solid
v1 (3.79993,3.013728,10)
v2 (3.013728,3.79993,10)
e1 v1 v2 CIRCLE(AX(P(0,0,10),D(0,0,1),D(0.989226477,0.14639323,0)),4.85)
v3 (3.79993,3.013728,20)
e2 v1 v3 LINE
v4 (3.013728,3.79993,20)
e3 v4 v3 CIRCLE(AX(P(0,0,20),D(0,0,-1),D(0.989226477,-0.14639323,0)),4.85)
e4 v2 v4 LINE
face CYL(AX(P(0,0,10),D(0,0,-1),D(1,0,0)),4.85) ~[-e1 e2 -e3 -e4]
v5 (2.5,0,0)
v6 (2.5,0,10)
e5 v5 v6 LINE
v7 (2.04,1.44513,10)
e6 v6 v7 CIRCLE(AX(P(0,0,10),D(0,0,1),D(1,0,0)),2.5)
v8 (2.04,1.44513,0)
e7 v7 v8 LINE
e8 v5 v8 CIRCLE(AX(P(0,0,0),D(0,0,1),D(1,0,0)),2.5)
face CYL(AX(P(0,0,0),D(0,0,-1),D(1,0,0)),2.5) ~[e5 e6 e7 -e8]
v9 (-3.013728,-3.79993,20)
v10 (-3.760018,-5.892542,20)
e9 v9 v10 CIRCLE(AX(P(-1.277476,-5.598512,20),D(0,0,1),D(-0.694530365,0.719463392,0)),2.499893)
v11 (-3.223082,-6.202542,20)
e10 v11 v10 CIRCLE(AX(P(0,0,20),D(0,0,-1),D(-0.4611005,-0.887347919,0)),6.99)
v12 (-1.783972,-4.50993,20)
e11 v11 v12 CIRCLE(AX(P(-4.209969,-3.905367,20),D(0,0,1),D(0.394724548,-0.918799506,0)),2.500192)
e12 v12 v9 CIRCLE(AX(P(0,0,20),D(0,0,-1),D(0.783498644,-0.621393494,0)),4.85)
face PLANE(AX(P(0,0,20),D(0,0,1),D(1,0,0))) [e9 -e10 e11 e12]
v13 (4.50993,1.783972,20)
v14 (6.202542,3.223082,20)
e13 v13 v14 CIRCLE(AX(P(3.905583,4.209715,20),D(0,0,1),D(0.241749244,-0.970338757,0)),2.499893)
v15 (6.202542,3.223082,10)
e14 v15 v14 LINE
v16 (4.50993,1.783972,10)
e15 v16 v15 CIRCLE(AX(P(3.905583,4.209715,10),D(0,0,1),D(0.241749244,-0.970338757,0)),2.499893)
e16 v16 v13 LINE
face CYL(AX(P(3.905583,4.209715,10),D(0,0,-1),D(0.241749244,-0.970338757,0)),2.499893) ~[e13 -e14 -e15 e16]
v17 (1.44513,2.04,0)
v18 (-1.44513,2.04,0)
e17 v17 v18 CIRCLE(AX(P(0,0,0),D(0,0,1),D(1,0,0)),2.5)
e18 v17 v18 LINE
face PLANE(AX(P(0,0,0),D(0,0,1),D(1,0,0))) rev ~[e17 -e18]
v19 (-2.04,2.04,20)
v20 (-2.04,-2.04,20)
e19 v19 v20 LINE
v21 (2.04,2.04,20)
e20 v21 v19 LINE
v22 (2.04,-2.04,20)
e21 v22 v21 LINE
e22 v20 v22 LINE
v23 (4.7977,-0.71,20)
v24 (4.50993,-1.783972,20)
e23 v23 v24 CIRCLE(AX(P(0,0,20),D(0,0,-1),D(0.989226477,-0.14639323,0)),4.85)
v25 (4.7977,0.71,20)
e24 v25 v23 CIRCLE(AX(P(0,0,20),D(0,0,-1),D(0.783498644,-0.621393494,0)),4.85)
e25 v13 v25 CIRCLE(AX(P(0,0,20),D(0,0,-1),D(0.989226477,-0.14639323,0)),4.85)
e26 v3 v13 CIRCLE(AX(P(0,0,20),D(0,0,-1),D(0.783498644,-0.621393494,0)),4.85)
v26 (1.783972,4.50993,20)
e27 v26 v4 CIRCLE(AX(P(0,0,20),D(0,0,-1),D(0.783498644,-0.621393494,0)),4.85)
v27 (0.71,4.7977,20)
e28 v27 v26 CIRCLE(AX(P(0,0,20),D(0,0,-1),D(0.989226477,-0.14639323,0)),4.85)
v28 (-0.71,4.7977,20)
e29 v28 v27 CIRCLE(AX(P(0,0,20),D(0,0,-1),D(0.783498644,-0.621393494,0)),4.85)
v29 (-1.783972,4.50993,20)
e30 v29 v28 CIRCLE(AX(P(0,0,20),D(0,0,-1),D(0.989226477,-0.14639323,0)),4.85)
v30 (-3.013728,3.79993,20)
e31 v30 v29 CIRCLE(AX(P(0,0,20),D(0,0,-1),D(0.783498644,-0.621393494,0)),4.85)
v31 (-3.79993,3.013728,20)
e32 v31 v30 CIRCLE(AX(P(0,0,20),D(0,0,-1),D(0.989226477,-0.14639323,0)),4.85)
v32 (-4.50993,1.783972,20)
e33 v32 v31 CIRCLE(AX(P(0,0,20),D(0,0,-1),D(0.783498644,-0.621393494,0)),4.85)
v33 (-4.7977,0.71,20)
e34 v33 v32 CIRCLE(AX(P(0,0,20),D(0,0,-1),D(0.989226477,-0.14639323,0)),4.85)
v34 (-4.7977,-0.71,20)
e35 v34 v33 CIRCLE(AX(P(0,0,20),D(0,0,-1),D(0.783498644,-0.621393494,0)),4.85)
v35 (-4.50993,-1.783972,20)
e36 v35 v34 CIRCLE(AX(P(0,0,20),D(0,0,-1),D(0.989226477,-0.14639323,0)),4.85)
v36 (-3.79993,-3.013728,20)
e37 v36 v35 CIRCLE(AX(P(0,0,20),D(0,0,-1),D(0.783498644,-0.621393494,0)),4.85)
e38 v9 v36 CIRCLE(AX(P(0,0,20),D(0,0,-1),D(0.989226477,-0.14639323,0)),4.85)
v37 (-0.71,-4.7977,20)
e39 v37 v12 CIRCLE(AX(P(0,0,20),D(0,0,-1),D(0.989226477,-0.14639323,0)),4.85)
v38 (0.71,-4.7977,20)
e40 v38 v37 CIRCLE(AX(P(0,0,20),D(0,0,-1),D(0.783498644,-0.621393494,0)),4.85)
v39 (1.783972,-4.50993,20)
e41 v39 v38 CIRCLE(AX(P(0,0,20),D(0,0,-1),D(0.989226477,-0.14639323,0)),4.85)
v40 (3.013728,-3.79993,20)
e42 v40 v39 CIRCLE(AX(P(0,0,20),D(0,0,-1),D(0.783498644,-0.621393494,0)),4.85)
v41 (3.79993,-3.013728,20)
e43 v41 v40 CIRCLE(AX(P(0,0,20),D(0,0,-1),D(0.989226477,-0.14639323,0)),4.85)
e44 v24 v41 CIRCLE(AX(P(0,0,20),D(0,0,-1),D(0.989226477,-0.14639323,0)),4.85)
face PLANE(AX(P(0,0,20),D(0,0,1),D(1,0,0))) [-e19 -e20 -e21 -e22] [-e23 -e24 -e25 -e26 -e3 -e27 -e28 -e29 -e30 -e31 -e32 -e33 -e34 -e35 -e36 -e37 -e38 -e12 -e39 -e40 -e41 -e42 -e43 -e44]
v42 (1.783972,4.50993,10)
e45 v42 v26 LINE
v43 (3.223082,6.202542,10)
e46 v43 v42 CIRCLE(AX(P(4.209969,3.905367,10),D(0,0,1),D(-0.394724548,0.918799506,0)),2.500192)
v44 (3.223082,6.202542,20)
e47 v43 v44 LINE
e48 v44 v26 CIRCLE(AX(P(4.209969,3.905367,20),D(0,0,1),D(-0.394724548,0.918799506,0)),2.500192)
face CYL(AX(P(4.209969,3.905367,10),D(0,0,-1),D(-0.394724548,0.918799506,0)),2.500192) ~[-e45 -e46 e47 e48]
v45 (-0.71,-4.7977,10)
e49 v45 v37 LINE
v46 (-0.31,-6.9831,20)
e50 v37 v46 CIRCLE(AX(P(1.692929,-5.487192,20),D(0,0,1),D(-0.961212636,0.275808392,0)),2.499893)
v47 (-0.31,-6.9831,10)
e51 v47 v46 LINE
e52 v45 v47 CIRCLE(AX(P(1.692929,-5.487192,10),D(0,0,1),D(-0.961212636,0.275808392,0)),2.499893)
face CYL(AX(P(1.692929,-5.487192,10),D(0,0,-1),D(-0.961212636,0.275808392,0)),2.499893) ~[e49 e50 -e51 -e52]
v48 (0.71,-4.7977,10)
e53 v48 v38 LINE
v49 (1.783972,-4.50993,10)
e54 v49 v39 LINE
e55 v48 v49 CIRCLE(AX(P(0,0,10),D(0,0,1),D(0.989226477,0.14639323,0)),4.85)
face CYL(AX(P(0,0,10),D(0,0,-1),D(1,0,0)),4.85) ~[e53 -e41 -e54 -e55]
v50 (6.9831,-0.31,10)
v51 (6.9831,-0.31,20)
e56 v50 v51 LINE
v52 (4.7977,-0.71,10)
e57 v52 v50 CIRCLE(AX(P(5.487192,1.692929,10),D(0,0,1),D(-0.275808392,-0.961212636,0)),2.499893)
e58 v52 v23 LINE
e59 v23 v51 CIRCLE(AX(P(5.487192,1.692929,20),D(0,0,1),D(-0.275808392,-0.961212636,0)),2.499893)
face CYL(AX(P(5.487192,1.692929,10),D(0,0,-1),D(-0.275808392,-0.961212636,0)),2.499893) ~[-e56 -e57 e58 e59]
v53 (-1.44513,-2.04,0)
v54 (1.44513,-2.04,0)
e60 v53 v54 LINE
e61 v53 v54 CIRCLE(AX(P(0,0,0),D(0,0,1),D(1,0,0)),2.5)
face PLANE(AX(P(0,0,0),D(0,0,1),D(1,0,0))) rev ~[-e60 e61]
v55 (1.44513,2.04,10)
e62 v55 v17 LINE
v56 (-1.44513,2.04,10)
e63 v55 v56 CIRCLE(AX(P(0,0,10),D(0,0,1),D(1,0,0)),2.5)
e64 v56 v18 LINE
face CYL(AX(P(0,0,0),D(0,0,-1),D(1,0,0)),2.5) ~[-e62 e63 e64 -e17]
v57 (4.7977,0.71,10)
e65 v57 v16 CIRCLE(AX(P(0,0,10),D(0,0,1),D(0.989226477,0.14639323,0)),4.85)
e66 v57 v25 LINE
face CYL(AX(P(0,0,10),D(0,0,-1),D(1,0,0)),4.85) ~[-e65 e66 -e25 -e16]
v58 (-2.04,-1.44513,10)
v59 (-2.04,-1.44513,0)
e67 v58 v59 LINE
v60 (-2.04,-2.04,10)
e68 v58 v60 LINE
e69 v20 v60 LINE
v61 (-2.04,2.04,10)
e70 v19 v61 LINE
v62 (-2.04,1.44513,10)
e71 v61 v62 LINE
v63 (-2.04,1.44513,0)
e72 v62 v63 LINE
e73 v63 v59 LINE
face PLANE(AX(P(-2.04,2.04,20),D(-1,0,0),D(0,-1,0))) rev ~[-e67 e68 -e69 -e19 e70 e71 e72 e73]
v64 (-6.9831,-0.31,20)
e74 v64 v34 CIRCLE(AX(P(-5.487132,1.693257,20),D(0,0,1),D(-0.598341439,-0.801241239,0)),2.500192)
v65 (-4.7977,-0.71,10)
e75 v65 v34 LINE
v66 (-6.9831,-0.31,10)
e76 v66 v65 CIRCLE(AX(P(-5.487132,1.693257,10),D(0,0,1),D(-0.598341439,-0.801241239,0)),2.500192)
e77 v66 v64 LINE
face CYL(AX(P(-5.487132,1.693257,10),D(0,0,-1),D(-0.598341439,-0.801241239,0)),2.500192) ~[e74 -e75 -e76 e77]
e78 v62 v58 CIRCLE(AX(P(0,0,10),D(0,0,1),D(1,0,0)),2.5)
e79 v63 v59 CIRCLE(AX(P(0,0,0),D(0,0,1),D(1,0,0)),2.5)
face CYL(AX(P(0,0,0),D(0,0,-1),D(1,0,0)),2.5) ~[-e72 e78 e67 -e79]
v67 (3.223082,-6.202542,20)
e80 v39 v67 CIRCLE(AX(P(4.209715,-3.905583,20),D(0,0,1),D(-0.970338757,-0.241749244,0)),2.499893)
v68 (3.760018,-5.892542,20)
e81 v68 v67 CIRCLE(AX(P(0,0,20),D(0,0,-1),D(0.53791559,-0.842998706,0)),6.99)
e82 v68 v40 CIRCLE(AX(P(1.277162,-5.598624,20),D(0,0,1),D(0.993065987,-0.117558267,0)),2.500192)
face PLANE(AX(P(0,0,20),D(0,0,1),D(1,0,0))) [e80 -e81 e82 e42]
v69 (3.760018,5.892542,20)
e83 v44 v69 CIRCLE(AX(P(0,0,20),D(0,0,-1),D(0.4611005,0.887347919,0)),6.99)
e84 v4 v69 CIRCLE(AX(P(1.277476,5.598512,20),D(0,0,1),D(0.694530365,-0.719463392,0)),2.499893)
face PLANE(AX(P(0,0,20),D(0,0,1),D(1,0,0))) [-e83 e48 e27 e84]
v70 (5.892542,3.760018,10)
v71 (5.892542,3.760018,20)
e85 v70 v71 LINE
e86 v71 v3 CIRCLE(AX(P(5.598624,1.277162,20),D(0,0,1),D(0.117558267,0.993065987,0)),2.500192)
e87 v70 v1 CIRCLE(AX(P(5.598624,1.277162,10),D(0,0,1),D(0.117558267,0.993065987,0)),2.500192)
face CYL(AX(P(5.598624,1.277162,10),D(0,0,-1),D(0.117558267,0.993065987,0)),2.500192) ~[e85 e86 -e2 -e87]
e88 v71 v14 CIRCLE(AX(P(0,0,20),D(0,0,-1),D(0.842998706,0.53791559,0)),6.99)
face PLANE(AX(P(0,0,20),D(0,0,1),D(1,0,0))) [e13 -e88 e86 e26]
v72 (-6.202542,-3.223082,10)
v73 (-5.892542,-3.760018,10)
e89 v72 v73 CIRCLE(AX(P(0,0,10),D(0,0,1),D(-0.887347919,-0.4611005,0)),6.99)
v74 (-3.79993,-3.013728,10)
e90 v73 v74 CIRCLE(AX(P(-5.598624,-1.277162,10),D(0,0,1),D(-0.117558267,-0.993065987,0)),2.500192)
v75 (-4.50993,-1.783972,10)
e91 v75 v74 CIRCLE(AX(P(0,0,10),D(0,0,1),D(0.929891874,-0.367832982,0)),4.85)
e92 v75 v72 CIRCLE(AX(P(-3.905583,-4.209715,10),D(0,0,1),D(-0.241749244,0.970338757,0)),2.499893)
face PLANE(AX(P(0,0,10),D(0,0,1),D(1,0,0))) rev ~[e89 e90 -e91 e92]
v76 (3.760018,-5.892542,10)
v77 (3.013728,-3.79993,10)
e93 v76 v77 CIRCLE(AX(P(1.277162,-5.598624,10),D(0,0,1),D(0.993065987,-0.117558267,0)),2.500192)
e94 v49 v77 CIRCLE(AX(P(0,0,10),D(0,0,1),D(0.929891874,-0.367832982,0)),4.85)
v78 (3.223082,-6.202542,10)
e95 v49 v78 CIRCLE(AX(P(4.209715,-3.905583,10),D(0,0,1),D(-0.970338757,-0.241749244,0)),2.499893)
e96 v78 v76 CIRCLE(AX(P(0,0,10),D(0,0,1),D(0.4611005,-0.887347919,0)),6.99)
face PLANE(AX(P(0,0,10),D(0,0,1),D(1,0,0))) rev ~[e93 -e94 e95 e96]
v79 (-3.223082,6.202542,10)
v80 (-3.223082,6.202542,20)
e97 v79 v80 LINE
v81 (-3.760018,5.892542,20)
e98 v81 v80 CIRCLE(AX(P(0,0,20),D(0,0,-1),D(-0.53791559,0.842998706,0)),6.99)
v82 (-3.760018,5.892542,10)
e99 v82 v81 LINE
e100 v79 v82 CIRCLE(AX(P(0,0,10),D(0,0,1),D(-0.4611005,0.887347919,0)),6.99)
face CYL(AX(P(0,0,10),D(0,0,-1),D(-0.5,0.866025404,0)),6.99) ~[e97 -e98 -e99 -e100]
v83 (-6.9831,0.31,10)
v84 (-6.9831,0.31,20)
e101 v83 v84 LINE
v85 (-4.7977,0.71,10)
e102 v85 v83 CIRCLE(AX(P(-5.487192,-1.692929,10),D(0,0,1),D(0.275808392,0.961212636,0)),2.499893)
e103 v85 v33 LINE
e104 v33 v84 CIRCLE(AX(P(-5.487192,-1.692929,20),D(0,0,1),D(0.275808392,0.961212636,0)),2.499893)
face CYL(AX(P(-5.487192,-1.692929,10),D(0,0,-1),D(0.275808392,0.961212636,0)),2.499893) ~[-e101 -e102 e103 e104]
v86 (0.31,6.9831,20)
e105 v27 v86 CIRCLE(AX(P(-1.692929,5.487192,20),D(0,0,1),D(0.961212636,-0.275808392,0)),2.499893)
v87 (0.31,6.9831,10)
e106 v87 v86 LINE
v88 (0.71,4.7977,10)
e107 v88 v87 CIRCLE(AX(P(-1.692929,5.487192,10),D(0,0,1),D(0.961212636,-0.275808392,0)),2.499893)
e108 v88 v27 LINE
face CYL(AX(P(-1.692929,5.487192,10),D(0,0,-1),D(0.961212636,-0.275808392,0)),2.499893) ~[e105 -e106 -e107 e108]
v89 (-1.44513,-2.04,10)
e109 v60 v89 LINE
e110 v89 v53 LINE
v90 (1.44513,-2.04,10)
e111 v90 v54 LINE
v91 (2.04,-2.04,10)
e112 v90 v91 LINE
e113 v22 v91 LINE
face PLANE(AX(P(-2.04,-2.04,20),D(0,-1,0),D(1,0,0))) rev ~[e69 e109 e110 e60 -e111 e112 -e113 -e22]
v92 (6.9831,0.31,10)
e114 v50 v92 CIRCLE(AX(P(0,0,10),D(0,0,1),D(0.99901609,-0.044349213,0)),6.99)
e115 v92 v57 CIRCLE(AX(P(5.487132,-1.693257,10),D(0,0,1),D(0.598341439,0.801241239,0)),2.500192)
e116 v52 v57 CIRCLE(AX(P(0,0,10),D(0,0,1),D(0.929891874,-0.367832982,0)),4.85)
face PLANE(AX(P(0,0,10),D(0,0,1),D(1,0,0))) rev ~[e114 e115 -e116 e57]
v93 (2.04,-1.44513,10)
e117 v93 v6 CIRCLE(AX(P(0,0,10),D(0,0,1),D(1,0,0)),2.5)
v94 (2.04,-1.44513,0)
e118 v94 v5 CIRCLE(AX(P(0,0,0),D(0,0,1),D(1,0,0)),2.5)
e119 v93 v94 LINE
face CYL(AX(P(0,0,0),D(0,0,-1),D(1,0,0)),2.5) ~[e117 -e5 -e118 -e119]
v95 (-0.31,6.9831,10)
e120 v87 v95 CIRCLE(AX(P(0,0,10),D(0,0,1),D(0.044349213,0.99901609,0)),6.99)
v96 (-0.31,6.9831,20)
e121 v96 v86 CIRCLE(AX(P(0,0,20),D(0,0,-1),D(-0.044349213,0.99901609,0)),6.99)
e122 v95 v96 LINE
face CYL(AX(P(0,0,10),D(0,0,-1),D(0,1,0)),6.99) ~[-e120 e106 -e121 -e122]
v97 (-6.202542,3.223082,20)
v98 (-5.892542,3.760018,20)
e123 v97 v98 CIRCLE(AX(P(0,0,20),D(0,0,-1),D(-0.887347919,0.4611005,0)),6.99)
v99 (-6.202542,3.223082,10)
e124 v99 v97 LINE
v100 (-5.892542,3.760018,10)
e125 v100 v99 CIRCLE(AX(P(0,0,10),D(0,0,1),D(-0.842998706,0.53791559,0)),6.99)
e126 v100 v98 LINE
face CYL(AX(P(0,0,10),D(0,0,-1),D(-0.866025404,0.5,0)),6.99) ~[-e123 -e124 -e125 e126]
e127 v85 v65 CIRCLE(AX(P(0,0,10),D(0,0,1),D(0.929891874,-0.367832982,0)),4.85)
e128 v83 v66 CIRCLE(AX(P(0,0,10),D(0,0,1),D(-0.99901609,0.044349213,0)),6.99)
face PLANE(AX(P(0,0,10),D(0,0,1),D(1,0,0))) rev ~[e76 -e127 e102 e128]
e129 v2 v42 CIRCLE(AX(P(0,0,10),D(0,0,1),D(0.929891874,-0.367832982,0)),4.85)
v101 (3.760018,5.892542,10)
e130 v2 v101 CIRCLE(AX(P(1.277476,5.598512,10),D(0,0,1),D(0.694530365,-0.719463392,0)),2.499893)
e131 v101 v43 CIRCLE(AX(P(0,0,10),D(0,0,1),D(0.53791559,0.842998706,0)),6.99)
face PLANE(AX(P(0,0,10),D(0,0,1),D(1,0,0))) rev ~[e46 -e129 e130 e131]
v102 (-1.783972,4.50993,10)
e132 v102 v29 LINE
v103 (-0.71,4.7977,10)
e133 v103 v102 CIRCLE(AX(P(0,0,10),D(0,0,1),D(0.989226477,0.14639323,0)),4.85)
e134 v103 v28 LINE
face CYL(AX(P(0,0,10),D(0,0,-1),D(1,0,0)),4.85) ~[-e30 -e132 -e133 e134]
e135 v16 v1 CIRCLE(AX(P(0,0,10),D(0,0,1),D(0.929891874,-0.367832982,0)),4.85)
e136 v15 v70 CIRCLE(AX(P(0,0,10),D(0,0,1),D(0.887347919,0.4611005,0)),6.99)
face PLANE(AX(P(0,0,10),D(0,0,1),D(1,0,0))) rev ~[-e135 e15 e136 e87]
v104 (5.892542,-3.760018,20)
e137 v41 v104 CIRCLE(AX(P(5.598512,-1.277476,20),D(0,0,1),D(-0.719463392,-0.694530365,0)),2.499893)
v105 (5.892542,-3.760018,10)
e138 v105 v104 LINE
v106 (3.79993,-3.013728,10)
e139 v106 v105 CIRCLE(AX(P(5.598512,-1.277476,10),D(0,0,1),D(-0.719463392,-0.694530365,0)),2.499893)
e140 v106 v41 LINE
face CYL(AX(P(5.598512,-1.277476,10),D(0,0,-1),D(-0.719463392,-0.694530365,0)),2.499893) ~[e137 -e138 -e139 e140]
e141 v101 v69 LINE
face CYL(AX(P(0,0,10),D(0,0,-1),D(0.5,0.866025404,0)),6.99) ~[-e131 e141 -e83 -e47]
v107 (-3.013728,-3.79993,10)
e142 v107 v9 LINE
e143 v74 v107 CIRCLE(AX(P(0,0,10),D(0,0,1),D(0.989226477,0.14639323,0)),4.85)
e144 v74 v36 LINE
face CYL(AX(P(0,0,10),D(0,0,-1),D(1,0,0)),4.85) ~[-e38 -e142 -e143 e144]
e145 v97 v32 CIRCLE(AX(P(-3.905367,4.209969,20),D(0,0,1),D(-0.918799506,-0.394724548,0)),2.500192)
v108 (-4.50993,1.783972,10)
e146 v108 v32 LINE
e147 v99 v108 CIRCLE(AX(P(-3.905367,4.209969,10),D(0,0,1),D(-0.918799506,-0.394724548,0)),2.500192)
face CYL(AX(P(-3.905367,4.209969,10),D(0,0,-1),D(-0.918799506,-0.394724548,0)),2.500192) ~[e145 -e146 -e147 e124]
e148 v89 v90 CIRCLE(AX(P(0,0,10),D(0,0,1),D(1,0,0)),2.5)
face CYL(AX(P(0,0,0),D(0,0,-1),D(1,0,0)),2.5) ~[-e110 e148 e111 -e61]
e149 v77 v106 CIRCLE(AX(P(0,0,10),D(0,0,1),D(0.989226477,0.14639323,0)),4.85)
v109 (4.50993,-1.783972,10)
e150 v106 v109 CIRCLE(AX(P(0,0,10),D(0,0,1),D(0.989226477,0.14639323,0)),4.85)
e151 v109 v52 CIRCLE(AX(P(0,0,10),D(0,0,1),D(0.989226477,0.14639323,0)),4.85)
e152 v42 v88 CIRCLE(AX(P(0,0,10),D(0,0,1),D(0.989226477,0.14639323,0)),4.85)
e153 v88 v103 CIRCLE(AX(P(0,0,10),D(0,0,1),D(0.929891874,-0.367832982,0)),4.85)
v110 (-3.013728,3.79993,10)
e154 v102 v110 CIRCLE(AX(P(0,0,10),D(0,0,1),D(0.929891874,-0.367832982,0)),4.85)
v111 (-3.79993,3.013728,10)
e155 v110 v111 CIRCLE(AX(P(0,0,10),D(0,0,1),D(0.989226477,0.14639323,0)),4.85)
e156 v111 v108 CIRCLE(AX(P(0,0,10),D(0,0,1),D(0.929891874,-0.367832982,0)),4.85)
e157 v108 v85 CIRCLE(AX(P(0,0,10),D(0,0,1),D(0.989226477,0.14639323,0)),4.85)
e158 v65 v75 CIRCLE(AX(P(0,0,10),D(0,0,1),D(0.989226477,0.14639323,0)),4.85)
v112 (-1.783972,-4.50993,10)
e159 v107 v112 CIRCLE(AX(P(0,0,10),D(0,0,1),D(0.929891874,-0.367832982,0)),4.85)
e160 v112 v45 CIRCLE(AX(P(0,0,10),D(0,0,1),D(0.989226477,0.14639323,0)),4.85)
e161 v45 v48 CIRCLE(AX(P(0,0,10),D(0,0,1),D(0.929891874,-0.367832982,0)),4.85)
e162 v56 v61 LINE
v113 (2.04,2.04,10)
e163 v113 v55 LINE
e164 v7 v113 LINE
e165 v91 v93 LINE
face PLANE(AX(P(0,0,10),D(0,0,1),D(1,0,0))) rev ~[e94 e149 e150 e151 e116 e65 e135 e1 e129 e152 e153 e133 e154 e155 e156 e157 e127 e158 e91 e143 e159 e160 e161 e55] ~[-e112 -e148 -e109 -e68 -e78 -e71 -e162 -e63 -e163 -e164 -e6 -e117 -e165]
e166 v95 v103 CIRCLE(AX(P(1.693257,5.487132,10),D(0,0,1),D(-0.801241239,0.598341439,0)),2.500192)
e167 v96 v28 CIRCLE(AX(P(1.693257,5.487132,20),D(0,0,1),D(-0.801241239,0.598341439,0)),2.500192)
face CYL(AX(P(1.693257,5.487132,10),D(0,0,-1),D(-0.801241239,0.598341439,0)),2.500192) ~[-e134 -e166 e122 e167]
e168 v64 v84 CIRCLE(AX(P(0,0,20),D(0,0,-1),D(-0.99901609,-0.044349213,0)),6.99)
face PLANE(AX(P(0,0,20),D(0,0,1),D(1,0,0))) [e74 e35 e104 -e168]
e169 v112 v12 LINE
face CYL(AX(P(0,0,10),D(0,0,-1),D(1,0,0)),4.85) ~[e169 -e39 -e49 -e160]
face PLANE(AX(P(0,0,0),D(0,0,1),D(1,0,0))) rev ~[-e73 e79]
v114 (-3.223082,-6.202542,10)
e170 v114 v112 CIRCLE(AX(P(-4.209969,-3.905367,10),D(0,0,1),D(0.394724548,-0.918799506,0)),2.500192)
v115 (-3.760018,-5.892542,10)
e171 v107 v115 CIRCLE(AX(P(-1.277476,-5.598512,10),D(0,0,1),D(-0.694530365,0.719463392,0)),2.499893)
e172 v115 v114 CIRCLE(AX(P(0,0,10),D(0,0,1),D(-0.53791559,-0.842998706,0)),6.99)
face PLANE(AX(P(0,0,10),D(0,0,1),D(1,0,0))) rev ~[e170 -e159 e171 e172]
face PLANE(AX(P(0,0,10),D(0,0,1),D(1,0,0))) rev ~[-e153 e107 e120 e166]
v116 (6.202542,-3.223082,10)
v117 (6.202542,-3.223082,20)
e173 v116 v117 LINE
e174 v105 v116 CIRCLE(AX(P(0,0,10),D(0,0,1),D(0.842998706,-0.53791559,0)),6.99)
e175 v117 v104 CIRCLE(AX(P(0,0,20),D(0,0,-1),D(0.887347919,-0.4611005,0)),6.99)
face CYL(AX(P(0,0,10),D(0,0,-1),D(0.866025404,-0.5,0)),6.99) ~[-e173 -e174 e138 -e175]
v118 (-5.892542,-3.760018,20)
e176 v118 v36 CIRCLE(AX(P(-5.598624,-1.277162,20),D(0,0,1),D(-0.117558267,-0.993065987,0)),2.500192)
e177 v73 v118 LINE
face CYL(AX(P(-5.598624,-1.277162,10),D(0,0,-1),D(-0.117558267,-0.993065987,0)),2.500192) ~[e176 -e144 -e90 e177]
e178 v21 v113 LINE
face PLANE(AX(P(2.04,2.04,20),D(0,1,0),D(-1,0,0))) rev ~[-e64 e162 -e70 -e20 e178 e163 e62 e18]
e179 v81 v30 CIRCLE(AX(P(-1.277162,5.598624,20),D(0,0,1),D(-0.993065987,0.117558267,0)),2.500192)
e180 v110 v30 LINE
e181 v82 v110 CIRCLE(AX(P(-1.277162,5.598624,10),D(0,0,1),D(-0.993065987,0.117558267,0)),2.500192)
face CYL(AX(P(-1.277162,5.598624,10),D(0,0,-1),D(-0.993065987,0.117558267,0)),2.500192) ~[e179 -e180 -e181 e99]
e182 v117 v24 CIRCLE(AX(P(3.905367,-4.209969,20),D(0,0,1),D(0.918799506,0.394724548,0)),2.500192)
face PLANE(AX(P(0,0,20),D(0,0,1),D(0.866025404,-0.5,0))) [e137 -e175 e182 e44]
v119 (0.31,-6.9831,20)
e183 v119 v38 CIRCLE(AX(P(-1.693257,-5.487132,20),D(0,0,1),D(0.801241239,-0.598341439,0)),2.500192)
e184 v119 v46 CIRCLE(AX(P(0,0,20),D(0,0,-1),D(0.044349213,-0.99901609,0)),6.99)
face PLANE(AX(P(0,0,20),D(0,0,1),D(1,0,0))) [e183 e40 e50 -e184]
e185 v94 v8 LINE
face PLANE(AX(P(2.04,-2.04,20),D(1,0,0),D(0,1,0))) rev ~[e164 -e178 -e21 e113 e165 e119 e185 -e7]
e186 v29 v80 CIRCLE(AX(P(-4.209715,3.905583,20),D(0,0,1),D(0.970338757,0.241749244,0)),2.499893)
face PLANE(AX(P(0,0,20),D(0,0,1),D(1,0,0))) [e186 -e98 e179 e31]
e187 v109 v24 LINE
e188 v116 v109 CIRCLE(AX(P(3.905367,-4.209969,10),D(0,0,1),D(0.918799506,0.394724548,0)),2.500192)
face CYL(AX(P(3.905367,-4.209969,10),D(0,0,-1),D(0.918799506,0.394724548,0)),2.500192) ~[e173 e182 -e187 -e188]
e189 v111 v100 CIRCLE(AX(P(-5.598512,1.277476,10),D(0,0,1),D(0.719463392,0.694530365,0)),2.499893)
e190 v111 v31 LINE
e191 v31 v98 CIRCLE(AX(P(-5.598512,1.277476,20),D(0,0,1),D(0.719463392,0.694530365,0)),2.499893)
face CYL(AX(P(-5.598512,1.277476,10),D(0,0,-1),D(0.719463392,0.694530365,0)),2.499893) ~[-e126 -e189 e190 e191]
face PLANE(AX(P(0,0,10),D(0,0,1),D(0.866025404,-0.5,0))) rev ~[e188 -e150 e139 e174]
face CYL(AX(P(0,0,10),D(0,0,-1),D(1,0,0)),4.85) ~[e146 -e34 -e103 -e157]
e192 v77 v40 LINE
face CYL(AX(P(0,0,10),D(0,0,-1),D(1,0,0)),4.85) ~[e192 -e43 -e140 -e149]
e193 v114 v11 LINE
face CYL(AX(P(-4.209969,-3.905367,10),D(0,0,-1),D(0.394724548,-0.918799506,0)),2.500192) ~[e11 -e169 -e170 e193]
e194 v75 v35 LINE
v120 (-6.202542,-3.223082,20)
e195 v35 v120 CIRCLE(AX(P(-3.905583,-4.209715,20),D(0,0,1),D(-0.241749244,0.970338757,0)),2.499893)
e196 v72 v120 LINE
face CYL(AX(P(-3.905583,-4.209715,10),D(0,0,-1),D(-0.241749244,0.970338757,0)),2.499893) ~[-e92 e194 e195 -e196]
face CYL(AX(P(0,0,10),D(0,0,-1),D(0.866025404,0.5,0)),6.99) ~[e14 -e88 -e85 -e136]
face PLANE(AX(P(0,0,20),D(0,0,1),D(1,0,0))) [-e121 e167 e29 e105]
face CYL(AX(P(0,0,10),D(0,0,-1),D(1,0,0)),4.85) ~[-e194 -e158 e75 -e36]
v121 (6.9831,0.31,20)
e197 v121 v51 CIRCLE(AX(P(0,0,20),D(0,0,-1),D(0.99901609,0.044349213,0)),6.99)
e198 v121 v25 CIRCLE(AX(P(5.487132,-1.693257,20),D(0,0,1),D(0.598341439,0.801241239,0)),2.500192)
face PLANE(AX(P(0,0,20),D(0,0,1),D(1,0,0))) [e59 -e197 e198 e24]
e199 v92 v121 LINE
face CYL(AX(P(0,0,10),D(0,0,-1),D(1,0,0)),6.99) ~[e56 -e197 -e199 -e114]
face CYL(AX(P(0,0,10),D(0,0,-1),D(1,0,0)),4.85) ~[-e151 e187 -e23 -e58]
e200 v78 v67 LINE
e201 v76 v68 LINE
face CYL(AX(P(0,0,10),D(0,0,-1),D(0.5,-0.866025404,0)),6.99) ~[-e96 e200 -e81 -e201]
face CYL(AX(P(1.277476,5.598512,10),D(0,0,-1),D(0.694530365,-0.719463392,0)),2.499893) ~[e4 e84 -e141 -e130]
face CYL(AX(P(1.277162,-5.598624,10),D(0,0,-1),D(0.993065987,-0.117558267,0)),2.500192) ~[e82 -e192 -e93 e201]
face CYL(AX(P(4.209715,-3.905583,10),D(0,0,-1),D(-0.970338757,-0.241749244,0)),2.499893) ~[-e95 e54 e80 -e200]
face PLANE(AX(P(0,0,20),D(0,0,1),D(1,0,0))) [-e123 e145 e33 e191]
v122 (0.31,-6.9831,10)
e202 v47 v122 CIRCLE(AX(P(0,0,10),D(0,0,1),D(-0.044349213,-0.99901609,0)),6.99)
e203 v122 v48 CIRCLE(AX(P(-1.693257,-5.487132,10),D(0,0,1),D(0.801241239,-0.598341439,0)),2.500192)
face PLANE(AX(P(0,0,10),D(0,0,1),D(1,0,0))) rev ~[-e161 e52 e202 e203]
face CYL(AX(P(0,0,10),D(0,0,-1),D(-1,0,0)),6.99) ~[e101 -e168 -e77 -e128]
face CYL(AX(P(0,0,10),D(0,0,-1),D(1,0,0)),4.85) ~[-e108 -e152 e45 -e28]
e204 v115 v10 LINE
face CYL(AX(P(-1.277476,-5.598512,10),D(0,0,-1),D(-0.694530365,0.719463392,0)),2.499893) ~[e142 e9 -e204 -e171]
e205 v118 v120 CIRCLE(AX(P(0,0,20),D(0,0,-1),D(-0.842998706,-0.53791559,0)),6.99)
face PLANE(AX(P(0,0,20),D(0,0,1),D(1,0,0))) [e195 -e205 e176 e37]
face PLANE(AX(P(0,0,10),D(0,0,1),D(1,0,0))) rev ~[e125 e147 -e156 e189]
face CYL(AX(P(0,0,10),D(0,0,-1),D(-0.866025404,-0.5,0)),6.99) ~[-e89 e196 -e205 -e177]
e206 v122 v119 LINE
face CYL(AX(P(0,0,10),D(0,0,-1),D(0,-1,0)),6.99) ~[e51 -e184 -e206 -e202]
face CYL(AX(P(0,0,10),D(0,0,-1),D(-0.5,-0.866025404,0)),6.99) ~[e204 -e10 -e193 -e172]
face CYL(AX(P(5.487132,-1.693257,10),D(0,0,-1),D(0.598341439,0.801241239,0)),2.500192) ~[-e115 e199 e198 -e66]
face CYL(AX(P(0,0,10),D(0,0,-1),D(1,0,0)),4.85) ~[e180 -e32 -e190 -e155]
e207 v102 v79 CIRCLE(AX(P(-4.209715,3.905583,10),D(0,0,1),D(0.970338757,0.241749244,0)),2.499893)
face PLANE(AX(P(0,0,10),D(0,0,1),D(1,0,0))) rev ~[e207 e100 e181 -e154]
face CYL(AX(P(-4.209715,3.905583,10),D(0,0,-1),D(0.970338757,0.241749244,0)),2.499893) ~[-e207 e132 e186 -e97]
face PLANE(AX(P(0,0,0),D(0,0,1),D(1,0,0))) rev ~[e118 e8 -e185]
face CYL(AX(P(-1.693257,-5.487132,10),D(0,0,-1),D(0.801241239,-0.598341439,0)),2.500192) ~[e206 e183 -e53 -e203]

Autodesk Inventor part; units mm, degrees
ref_plane "YZ Plane" through (0, 0, 0) normal (1, 0, 0) x (0, 1, 0)
ref_plane "XZ Plane" through (0, 0, 0) normal (0, 1, 0) x (-1, 0, 0)
ref_plane "XY Plane" through (0, 0, 0) normal (0, 0, 1) x (1, 0, 0)
sketch "Sketch1" plane through (0, 0, 0) normal (0, 0, 1) x (1, 0, 0)
  circle A0 centre (0, 0) radius 2.5
  dimension "d0" = 5
extrude "Extrusion1" add sketch "Sketch1" along normal blind 10
sketch "Sketch2" plane through (0, 0, 10) normal (0, 0, 1) x (1, 0, 0)
  circle A0 centre (0, 0) radius 6.99
  circle A1 centre (0, 0) radius 4.85
  line L0 (-6.99, 0) -> (6.99, 0)
  arc A2 (6.9831, 0.31) -> (4.7977, 0.71) centre (5.4872, -1.6931) ccw
  arc A3 (4.7977, -0.71) -> (6.9831, -0.31) centre (5.4872, 1.6931) ccw
  point P0 (4.8336, 0.3987)
  point P1 (4.7977, -0.71)
  point P2 (6.9831, -0.31)
  dimension "d3" = 13.98
  dimension "d17" = 9.7
  dimension "d18" = 0.62
  dimension "d19" = 1.42
  dimension "d20" = 2.5
extrude "Extrusion2" add sketch "Sketch2" along normal blind 10 contours L0 A1 | A1 L0
extrude "Extrusion3" add sketch "Sketch2" along normal up to surface (10 mm away) contours L0 A1 A2 A0 | A0 A3 A1 L0 | L0 A1 | A1 L0 picked at (6.1088, 0.1995) picked at (6.1089, -0.1995)
pattern_circular "Circular Pattern1" count 12 over 360 about axis through (0, 0, -10) along (0, 0, 1) of "Extrusion3"
sketch "Sketch3" plane through (0, 0, 20) normal (0, 0, 1) x (1, 0, 0)
  line L0 (-2.04, -2.04) -> (2.04, -2.04)
  line L1 (2.04, -2.04) -> (2.04, 2.04)
  line L2 (2.04, 2.04) -> (-2.04, 2.04)
  line L3 (-2.04, 2.04) -> (-2.04, -2.04)
  line L4 (-2.04, -2.04) -> (2.04, 2.04) construction
  line L5 (2.04, -2.04) -> (-2.04, 2.04) construction
  point P0 (0, 0)
  dimension "d22" = 4.08
extrude "Extrusion4" cut sketch "Sketch3" against normal through all
properties part number "Pinion Gear"
